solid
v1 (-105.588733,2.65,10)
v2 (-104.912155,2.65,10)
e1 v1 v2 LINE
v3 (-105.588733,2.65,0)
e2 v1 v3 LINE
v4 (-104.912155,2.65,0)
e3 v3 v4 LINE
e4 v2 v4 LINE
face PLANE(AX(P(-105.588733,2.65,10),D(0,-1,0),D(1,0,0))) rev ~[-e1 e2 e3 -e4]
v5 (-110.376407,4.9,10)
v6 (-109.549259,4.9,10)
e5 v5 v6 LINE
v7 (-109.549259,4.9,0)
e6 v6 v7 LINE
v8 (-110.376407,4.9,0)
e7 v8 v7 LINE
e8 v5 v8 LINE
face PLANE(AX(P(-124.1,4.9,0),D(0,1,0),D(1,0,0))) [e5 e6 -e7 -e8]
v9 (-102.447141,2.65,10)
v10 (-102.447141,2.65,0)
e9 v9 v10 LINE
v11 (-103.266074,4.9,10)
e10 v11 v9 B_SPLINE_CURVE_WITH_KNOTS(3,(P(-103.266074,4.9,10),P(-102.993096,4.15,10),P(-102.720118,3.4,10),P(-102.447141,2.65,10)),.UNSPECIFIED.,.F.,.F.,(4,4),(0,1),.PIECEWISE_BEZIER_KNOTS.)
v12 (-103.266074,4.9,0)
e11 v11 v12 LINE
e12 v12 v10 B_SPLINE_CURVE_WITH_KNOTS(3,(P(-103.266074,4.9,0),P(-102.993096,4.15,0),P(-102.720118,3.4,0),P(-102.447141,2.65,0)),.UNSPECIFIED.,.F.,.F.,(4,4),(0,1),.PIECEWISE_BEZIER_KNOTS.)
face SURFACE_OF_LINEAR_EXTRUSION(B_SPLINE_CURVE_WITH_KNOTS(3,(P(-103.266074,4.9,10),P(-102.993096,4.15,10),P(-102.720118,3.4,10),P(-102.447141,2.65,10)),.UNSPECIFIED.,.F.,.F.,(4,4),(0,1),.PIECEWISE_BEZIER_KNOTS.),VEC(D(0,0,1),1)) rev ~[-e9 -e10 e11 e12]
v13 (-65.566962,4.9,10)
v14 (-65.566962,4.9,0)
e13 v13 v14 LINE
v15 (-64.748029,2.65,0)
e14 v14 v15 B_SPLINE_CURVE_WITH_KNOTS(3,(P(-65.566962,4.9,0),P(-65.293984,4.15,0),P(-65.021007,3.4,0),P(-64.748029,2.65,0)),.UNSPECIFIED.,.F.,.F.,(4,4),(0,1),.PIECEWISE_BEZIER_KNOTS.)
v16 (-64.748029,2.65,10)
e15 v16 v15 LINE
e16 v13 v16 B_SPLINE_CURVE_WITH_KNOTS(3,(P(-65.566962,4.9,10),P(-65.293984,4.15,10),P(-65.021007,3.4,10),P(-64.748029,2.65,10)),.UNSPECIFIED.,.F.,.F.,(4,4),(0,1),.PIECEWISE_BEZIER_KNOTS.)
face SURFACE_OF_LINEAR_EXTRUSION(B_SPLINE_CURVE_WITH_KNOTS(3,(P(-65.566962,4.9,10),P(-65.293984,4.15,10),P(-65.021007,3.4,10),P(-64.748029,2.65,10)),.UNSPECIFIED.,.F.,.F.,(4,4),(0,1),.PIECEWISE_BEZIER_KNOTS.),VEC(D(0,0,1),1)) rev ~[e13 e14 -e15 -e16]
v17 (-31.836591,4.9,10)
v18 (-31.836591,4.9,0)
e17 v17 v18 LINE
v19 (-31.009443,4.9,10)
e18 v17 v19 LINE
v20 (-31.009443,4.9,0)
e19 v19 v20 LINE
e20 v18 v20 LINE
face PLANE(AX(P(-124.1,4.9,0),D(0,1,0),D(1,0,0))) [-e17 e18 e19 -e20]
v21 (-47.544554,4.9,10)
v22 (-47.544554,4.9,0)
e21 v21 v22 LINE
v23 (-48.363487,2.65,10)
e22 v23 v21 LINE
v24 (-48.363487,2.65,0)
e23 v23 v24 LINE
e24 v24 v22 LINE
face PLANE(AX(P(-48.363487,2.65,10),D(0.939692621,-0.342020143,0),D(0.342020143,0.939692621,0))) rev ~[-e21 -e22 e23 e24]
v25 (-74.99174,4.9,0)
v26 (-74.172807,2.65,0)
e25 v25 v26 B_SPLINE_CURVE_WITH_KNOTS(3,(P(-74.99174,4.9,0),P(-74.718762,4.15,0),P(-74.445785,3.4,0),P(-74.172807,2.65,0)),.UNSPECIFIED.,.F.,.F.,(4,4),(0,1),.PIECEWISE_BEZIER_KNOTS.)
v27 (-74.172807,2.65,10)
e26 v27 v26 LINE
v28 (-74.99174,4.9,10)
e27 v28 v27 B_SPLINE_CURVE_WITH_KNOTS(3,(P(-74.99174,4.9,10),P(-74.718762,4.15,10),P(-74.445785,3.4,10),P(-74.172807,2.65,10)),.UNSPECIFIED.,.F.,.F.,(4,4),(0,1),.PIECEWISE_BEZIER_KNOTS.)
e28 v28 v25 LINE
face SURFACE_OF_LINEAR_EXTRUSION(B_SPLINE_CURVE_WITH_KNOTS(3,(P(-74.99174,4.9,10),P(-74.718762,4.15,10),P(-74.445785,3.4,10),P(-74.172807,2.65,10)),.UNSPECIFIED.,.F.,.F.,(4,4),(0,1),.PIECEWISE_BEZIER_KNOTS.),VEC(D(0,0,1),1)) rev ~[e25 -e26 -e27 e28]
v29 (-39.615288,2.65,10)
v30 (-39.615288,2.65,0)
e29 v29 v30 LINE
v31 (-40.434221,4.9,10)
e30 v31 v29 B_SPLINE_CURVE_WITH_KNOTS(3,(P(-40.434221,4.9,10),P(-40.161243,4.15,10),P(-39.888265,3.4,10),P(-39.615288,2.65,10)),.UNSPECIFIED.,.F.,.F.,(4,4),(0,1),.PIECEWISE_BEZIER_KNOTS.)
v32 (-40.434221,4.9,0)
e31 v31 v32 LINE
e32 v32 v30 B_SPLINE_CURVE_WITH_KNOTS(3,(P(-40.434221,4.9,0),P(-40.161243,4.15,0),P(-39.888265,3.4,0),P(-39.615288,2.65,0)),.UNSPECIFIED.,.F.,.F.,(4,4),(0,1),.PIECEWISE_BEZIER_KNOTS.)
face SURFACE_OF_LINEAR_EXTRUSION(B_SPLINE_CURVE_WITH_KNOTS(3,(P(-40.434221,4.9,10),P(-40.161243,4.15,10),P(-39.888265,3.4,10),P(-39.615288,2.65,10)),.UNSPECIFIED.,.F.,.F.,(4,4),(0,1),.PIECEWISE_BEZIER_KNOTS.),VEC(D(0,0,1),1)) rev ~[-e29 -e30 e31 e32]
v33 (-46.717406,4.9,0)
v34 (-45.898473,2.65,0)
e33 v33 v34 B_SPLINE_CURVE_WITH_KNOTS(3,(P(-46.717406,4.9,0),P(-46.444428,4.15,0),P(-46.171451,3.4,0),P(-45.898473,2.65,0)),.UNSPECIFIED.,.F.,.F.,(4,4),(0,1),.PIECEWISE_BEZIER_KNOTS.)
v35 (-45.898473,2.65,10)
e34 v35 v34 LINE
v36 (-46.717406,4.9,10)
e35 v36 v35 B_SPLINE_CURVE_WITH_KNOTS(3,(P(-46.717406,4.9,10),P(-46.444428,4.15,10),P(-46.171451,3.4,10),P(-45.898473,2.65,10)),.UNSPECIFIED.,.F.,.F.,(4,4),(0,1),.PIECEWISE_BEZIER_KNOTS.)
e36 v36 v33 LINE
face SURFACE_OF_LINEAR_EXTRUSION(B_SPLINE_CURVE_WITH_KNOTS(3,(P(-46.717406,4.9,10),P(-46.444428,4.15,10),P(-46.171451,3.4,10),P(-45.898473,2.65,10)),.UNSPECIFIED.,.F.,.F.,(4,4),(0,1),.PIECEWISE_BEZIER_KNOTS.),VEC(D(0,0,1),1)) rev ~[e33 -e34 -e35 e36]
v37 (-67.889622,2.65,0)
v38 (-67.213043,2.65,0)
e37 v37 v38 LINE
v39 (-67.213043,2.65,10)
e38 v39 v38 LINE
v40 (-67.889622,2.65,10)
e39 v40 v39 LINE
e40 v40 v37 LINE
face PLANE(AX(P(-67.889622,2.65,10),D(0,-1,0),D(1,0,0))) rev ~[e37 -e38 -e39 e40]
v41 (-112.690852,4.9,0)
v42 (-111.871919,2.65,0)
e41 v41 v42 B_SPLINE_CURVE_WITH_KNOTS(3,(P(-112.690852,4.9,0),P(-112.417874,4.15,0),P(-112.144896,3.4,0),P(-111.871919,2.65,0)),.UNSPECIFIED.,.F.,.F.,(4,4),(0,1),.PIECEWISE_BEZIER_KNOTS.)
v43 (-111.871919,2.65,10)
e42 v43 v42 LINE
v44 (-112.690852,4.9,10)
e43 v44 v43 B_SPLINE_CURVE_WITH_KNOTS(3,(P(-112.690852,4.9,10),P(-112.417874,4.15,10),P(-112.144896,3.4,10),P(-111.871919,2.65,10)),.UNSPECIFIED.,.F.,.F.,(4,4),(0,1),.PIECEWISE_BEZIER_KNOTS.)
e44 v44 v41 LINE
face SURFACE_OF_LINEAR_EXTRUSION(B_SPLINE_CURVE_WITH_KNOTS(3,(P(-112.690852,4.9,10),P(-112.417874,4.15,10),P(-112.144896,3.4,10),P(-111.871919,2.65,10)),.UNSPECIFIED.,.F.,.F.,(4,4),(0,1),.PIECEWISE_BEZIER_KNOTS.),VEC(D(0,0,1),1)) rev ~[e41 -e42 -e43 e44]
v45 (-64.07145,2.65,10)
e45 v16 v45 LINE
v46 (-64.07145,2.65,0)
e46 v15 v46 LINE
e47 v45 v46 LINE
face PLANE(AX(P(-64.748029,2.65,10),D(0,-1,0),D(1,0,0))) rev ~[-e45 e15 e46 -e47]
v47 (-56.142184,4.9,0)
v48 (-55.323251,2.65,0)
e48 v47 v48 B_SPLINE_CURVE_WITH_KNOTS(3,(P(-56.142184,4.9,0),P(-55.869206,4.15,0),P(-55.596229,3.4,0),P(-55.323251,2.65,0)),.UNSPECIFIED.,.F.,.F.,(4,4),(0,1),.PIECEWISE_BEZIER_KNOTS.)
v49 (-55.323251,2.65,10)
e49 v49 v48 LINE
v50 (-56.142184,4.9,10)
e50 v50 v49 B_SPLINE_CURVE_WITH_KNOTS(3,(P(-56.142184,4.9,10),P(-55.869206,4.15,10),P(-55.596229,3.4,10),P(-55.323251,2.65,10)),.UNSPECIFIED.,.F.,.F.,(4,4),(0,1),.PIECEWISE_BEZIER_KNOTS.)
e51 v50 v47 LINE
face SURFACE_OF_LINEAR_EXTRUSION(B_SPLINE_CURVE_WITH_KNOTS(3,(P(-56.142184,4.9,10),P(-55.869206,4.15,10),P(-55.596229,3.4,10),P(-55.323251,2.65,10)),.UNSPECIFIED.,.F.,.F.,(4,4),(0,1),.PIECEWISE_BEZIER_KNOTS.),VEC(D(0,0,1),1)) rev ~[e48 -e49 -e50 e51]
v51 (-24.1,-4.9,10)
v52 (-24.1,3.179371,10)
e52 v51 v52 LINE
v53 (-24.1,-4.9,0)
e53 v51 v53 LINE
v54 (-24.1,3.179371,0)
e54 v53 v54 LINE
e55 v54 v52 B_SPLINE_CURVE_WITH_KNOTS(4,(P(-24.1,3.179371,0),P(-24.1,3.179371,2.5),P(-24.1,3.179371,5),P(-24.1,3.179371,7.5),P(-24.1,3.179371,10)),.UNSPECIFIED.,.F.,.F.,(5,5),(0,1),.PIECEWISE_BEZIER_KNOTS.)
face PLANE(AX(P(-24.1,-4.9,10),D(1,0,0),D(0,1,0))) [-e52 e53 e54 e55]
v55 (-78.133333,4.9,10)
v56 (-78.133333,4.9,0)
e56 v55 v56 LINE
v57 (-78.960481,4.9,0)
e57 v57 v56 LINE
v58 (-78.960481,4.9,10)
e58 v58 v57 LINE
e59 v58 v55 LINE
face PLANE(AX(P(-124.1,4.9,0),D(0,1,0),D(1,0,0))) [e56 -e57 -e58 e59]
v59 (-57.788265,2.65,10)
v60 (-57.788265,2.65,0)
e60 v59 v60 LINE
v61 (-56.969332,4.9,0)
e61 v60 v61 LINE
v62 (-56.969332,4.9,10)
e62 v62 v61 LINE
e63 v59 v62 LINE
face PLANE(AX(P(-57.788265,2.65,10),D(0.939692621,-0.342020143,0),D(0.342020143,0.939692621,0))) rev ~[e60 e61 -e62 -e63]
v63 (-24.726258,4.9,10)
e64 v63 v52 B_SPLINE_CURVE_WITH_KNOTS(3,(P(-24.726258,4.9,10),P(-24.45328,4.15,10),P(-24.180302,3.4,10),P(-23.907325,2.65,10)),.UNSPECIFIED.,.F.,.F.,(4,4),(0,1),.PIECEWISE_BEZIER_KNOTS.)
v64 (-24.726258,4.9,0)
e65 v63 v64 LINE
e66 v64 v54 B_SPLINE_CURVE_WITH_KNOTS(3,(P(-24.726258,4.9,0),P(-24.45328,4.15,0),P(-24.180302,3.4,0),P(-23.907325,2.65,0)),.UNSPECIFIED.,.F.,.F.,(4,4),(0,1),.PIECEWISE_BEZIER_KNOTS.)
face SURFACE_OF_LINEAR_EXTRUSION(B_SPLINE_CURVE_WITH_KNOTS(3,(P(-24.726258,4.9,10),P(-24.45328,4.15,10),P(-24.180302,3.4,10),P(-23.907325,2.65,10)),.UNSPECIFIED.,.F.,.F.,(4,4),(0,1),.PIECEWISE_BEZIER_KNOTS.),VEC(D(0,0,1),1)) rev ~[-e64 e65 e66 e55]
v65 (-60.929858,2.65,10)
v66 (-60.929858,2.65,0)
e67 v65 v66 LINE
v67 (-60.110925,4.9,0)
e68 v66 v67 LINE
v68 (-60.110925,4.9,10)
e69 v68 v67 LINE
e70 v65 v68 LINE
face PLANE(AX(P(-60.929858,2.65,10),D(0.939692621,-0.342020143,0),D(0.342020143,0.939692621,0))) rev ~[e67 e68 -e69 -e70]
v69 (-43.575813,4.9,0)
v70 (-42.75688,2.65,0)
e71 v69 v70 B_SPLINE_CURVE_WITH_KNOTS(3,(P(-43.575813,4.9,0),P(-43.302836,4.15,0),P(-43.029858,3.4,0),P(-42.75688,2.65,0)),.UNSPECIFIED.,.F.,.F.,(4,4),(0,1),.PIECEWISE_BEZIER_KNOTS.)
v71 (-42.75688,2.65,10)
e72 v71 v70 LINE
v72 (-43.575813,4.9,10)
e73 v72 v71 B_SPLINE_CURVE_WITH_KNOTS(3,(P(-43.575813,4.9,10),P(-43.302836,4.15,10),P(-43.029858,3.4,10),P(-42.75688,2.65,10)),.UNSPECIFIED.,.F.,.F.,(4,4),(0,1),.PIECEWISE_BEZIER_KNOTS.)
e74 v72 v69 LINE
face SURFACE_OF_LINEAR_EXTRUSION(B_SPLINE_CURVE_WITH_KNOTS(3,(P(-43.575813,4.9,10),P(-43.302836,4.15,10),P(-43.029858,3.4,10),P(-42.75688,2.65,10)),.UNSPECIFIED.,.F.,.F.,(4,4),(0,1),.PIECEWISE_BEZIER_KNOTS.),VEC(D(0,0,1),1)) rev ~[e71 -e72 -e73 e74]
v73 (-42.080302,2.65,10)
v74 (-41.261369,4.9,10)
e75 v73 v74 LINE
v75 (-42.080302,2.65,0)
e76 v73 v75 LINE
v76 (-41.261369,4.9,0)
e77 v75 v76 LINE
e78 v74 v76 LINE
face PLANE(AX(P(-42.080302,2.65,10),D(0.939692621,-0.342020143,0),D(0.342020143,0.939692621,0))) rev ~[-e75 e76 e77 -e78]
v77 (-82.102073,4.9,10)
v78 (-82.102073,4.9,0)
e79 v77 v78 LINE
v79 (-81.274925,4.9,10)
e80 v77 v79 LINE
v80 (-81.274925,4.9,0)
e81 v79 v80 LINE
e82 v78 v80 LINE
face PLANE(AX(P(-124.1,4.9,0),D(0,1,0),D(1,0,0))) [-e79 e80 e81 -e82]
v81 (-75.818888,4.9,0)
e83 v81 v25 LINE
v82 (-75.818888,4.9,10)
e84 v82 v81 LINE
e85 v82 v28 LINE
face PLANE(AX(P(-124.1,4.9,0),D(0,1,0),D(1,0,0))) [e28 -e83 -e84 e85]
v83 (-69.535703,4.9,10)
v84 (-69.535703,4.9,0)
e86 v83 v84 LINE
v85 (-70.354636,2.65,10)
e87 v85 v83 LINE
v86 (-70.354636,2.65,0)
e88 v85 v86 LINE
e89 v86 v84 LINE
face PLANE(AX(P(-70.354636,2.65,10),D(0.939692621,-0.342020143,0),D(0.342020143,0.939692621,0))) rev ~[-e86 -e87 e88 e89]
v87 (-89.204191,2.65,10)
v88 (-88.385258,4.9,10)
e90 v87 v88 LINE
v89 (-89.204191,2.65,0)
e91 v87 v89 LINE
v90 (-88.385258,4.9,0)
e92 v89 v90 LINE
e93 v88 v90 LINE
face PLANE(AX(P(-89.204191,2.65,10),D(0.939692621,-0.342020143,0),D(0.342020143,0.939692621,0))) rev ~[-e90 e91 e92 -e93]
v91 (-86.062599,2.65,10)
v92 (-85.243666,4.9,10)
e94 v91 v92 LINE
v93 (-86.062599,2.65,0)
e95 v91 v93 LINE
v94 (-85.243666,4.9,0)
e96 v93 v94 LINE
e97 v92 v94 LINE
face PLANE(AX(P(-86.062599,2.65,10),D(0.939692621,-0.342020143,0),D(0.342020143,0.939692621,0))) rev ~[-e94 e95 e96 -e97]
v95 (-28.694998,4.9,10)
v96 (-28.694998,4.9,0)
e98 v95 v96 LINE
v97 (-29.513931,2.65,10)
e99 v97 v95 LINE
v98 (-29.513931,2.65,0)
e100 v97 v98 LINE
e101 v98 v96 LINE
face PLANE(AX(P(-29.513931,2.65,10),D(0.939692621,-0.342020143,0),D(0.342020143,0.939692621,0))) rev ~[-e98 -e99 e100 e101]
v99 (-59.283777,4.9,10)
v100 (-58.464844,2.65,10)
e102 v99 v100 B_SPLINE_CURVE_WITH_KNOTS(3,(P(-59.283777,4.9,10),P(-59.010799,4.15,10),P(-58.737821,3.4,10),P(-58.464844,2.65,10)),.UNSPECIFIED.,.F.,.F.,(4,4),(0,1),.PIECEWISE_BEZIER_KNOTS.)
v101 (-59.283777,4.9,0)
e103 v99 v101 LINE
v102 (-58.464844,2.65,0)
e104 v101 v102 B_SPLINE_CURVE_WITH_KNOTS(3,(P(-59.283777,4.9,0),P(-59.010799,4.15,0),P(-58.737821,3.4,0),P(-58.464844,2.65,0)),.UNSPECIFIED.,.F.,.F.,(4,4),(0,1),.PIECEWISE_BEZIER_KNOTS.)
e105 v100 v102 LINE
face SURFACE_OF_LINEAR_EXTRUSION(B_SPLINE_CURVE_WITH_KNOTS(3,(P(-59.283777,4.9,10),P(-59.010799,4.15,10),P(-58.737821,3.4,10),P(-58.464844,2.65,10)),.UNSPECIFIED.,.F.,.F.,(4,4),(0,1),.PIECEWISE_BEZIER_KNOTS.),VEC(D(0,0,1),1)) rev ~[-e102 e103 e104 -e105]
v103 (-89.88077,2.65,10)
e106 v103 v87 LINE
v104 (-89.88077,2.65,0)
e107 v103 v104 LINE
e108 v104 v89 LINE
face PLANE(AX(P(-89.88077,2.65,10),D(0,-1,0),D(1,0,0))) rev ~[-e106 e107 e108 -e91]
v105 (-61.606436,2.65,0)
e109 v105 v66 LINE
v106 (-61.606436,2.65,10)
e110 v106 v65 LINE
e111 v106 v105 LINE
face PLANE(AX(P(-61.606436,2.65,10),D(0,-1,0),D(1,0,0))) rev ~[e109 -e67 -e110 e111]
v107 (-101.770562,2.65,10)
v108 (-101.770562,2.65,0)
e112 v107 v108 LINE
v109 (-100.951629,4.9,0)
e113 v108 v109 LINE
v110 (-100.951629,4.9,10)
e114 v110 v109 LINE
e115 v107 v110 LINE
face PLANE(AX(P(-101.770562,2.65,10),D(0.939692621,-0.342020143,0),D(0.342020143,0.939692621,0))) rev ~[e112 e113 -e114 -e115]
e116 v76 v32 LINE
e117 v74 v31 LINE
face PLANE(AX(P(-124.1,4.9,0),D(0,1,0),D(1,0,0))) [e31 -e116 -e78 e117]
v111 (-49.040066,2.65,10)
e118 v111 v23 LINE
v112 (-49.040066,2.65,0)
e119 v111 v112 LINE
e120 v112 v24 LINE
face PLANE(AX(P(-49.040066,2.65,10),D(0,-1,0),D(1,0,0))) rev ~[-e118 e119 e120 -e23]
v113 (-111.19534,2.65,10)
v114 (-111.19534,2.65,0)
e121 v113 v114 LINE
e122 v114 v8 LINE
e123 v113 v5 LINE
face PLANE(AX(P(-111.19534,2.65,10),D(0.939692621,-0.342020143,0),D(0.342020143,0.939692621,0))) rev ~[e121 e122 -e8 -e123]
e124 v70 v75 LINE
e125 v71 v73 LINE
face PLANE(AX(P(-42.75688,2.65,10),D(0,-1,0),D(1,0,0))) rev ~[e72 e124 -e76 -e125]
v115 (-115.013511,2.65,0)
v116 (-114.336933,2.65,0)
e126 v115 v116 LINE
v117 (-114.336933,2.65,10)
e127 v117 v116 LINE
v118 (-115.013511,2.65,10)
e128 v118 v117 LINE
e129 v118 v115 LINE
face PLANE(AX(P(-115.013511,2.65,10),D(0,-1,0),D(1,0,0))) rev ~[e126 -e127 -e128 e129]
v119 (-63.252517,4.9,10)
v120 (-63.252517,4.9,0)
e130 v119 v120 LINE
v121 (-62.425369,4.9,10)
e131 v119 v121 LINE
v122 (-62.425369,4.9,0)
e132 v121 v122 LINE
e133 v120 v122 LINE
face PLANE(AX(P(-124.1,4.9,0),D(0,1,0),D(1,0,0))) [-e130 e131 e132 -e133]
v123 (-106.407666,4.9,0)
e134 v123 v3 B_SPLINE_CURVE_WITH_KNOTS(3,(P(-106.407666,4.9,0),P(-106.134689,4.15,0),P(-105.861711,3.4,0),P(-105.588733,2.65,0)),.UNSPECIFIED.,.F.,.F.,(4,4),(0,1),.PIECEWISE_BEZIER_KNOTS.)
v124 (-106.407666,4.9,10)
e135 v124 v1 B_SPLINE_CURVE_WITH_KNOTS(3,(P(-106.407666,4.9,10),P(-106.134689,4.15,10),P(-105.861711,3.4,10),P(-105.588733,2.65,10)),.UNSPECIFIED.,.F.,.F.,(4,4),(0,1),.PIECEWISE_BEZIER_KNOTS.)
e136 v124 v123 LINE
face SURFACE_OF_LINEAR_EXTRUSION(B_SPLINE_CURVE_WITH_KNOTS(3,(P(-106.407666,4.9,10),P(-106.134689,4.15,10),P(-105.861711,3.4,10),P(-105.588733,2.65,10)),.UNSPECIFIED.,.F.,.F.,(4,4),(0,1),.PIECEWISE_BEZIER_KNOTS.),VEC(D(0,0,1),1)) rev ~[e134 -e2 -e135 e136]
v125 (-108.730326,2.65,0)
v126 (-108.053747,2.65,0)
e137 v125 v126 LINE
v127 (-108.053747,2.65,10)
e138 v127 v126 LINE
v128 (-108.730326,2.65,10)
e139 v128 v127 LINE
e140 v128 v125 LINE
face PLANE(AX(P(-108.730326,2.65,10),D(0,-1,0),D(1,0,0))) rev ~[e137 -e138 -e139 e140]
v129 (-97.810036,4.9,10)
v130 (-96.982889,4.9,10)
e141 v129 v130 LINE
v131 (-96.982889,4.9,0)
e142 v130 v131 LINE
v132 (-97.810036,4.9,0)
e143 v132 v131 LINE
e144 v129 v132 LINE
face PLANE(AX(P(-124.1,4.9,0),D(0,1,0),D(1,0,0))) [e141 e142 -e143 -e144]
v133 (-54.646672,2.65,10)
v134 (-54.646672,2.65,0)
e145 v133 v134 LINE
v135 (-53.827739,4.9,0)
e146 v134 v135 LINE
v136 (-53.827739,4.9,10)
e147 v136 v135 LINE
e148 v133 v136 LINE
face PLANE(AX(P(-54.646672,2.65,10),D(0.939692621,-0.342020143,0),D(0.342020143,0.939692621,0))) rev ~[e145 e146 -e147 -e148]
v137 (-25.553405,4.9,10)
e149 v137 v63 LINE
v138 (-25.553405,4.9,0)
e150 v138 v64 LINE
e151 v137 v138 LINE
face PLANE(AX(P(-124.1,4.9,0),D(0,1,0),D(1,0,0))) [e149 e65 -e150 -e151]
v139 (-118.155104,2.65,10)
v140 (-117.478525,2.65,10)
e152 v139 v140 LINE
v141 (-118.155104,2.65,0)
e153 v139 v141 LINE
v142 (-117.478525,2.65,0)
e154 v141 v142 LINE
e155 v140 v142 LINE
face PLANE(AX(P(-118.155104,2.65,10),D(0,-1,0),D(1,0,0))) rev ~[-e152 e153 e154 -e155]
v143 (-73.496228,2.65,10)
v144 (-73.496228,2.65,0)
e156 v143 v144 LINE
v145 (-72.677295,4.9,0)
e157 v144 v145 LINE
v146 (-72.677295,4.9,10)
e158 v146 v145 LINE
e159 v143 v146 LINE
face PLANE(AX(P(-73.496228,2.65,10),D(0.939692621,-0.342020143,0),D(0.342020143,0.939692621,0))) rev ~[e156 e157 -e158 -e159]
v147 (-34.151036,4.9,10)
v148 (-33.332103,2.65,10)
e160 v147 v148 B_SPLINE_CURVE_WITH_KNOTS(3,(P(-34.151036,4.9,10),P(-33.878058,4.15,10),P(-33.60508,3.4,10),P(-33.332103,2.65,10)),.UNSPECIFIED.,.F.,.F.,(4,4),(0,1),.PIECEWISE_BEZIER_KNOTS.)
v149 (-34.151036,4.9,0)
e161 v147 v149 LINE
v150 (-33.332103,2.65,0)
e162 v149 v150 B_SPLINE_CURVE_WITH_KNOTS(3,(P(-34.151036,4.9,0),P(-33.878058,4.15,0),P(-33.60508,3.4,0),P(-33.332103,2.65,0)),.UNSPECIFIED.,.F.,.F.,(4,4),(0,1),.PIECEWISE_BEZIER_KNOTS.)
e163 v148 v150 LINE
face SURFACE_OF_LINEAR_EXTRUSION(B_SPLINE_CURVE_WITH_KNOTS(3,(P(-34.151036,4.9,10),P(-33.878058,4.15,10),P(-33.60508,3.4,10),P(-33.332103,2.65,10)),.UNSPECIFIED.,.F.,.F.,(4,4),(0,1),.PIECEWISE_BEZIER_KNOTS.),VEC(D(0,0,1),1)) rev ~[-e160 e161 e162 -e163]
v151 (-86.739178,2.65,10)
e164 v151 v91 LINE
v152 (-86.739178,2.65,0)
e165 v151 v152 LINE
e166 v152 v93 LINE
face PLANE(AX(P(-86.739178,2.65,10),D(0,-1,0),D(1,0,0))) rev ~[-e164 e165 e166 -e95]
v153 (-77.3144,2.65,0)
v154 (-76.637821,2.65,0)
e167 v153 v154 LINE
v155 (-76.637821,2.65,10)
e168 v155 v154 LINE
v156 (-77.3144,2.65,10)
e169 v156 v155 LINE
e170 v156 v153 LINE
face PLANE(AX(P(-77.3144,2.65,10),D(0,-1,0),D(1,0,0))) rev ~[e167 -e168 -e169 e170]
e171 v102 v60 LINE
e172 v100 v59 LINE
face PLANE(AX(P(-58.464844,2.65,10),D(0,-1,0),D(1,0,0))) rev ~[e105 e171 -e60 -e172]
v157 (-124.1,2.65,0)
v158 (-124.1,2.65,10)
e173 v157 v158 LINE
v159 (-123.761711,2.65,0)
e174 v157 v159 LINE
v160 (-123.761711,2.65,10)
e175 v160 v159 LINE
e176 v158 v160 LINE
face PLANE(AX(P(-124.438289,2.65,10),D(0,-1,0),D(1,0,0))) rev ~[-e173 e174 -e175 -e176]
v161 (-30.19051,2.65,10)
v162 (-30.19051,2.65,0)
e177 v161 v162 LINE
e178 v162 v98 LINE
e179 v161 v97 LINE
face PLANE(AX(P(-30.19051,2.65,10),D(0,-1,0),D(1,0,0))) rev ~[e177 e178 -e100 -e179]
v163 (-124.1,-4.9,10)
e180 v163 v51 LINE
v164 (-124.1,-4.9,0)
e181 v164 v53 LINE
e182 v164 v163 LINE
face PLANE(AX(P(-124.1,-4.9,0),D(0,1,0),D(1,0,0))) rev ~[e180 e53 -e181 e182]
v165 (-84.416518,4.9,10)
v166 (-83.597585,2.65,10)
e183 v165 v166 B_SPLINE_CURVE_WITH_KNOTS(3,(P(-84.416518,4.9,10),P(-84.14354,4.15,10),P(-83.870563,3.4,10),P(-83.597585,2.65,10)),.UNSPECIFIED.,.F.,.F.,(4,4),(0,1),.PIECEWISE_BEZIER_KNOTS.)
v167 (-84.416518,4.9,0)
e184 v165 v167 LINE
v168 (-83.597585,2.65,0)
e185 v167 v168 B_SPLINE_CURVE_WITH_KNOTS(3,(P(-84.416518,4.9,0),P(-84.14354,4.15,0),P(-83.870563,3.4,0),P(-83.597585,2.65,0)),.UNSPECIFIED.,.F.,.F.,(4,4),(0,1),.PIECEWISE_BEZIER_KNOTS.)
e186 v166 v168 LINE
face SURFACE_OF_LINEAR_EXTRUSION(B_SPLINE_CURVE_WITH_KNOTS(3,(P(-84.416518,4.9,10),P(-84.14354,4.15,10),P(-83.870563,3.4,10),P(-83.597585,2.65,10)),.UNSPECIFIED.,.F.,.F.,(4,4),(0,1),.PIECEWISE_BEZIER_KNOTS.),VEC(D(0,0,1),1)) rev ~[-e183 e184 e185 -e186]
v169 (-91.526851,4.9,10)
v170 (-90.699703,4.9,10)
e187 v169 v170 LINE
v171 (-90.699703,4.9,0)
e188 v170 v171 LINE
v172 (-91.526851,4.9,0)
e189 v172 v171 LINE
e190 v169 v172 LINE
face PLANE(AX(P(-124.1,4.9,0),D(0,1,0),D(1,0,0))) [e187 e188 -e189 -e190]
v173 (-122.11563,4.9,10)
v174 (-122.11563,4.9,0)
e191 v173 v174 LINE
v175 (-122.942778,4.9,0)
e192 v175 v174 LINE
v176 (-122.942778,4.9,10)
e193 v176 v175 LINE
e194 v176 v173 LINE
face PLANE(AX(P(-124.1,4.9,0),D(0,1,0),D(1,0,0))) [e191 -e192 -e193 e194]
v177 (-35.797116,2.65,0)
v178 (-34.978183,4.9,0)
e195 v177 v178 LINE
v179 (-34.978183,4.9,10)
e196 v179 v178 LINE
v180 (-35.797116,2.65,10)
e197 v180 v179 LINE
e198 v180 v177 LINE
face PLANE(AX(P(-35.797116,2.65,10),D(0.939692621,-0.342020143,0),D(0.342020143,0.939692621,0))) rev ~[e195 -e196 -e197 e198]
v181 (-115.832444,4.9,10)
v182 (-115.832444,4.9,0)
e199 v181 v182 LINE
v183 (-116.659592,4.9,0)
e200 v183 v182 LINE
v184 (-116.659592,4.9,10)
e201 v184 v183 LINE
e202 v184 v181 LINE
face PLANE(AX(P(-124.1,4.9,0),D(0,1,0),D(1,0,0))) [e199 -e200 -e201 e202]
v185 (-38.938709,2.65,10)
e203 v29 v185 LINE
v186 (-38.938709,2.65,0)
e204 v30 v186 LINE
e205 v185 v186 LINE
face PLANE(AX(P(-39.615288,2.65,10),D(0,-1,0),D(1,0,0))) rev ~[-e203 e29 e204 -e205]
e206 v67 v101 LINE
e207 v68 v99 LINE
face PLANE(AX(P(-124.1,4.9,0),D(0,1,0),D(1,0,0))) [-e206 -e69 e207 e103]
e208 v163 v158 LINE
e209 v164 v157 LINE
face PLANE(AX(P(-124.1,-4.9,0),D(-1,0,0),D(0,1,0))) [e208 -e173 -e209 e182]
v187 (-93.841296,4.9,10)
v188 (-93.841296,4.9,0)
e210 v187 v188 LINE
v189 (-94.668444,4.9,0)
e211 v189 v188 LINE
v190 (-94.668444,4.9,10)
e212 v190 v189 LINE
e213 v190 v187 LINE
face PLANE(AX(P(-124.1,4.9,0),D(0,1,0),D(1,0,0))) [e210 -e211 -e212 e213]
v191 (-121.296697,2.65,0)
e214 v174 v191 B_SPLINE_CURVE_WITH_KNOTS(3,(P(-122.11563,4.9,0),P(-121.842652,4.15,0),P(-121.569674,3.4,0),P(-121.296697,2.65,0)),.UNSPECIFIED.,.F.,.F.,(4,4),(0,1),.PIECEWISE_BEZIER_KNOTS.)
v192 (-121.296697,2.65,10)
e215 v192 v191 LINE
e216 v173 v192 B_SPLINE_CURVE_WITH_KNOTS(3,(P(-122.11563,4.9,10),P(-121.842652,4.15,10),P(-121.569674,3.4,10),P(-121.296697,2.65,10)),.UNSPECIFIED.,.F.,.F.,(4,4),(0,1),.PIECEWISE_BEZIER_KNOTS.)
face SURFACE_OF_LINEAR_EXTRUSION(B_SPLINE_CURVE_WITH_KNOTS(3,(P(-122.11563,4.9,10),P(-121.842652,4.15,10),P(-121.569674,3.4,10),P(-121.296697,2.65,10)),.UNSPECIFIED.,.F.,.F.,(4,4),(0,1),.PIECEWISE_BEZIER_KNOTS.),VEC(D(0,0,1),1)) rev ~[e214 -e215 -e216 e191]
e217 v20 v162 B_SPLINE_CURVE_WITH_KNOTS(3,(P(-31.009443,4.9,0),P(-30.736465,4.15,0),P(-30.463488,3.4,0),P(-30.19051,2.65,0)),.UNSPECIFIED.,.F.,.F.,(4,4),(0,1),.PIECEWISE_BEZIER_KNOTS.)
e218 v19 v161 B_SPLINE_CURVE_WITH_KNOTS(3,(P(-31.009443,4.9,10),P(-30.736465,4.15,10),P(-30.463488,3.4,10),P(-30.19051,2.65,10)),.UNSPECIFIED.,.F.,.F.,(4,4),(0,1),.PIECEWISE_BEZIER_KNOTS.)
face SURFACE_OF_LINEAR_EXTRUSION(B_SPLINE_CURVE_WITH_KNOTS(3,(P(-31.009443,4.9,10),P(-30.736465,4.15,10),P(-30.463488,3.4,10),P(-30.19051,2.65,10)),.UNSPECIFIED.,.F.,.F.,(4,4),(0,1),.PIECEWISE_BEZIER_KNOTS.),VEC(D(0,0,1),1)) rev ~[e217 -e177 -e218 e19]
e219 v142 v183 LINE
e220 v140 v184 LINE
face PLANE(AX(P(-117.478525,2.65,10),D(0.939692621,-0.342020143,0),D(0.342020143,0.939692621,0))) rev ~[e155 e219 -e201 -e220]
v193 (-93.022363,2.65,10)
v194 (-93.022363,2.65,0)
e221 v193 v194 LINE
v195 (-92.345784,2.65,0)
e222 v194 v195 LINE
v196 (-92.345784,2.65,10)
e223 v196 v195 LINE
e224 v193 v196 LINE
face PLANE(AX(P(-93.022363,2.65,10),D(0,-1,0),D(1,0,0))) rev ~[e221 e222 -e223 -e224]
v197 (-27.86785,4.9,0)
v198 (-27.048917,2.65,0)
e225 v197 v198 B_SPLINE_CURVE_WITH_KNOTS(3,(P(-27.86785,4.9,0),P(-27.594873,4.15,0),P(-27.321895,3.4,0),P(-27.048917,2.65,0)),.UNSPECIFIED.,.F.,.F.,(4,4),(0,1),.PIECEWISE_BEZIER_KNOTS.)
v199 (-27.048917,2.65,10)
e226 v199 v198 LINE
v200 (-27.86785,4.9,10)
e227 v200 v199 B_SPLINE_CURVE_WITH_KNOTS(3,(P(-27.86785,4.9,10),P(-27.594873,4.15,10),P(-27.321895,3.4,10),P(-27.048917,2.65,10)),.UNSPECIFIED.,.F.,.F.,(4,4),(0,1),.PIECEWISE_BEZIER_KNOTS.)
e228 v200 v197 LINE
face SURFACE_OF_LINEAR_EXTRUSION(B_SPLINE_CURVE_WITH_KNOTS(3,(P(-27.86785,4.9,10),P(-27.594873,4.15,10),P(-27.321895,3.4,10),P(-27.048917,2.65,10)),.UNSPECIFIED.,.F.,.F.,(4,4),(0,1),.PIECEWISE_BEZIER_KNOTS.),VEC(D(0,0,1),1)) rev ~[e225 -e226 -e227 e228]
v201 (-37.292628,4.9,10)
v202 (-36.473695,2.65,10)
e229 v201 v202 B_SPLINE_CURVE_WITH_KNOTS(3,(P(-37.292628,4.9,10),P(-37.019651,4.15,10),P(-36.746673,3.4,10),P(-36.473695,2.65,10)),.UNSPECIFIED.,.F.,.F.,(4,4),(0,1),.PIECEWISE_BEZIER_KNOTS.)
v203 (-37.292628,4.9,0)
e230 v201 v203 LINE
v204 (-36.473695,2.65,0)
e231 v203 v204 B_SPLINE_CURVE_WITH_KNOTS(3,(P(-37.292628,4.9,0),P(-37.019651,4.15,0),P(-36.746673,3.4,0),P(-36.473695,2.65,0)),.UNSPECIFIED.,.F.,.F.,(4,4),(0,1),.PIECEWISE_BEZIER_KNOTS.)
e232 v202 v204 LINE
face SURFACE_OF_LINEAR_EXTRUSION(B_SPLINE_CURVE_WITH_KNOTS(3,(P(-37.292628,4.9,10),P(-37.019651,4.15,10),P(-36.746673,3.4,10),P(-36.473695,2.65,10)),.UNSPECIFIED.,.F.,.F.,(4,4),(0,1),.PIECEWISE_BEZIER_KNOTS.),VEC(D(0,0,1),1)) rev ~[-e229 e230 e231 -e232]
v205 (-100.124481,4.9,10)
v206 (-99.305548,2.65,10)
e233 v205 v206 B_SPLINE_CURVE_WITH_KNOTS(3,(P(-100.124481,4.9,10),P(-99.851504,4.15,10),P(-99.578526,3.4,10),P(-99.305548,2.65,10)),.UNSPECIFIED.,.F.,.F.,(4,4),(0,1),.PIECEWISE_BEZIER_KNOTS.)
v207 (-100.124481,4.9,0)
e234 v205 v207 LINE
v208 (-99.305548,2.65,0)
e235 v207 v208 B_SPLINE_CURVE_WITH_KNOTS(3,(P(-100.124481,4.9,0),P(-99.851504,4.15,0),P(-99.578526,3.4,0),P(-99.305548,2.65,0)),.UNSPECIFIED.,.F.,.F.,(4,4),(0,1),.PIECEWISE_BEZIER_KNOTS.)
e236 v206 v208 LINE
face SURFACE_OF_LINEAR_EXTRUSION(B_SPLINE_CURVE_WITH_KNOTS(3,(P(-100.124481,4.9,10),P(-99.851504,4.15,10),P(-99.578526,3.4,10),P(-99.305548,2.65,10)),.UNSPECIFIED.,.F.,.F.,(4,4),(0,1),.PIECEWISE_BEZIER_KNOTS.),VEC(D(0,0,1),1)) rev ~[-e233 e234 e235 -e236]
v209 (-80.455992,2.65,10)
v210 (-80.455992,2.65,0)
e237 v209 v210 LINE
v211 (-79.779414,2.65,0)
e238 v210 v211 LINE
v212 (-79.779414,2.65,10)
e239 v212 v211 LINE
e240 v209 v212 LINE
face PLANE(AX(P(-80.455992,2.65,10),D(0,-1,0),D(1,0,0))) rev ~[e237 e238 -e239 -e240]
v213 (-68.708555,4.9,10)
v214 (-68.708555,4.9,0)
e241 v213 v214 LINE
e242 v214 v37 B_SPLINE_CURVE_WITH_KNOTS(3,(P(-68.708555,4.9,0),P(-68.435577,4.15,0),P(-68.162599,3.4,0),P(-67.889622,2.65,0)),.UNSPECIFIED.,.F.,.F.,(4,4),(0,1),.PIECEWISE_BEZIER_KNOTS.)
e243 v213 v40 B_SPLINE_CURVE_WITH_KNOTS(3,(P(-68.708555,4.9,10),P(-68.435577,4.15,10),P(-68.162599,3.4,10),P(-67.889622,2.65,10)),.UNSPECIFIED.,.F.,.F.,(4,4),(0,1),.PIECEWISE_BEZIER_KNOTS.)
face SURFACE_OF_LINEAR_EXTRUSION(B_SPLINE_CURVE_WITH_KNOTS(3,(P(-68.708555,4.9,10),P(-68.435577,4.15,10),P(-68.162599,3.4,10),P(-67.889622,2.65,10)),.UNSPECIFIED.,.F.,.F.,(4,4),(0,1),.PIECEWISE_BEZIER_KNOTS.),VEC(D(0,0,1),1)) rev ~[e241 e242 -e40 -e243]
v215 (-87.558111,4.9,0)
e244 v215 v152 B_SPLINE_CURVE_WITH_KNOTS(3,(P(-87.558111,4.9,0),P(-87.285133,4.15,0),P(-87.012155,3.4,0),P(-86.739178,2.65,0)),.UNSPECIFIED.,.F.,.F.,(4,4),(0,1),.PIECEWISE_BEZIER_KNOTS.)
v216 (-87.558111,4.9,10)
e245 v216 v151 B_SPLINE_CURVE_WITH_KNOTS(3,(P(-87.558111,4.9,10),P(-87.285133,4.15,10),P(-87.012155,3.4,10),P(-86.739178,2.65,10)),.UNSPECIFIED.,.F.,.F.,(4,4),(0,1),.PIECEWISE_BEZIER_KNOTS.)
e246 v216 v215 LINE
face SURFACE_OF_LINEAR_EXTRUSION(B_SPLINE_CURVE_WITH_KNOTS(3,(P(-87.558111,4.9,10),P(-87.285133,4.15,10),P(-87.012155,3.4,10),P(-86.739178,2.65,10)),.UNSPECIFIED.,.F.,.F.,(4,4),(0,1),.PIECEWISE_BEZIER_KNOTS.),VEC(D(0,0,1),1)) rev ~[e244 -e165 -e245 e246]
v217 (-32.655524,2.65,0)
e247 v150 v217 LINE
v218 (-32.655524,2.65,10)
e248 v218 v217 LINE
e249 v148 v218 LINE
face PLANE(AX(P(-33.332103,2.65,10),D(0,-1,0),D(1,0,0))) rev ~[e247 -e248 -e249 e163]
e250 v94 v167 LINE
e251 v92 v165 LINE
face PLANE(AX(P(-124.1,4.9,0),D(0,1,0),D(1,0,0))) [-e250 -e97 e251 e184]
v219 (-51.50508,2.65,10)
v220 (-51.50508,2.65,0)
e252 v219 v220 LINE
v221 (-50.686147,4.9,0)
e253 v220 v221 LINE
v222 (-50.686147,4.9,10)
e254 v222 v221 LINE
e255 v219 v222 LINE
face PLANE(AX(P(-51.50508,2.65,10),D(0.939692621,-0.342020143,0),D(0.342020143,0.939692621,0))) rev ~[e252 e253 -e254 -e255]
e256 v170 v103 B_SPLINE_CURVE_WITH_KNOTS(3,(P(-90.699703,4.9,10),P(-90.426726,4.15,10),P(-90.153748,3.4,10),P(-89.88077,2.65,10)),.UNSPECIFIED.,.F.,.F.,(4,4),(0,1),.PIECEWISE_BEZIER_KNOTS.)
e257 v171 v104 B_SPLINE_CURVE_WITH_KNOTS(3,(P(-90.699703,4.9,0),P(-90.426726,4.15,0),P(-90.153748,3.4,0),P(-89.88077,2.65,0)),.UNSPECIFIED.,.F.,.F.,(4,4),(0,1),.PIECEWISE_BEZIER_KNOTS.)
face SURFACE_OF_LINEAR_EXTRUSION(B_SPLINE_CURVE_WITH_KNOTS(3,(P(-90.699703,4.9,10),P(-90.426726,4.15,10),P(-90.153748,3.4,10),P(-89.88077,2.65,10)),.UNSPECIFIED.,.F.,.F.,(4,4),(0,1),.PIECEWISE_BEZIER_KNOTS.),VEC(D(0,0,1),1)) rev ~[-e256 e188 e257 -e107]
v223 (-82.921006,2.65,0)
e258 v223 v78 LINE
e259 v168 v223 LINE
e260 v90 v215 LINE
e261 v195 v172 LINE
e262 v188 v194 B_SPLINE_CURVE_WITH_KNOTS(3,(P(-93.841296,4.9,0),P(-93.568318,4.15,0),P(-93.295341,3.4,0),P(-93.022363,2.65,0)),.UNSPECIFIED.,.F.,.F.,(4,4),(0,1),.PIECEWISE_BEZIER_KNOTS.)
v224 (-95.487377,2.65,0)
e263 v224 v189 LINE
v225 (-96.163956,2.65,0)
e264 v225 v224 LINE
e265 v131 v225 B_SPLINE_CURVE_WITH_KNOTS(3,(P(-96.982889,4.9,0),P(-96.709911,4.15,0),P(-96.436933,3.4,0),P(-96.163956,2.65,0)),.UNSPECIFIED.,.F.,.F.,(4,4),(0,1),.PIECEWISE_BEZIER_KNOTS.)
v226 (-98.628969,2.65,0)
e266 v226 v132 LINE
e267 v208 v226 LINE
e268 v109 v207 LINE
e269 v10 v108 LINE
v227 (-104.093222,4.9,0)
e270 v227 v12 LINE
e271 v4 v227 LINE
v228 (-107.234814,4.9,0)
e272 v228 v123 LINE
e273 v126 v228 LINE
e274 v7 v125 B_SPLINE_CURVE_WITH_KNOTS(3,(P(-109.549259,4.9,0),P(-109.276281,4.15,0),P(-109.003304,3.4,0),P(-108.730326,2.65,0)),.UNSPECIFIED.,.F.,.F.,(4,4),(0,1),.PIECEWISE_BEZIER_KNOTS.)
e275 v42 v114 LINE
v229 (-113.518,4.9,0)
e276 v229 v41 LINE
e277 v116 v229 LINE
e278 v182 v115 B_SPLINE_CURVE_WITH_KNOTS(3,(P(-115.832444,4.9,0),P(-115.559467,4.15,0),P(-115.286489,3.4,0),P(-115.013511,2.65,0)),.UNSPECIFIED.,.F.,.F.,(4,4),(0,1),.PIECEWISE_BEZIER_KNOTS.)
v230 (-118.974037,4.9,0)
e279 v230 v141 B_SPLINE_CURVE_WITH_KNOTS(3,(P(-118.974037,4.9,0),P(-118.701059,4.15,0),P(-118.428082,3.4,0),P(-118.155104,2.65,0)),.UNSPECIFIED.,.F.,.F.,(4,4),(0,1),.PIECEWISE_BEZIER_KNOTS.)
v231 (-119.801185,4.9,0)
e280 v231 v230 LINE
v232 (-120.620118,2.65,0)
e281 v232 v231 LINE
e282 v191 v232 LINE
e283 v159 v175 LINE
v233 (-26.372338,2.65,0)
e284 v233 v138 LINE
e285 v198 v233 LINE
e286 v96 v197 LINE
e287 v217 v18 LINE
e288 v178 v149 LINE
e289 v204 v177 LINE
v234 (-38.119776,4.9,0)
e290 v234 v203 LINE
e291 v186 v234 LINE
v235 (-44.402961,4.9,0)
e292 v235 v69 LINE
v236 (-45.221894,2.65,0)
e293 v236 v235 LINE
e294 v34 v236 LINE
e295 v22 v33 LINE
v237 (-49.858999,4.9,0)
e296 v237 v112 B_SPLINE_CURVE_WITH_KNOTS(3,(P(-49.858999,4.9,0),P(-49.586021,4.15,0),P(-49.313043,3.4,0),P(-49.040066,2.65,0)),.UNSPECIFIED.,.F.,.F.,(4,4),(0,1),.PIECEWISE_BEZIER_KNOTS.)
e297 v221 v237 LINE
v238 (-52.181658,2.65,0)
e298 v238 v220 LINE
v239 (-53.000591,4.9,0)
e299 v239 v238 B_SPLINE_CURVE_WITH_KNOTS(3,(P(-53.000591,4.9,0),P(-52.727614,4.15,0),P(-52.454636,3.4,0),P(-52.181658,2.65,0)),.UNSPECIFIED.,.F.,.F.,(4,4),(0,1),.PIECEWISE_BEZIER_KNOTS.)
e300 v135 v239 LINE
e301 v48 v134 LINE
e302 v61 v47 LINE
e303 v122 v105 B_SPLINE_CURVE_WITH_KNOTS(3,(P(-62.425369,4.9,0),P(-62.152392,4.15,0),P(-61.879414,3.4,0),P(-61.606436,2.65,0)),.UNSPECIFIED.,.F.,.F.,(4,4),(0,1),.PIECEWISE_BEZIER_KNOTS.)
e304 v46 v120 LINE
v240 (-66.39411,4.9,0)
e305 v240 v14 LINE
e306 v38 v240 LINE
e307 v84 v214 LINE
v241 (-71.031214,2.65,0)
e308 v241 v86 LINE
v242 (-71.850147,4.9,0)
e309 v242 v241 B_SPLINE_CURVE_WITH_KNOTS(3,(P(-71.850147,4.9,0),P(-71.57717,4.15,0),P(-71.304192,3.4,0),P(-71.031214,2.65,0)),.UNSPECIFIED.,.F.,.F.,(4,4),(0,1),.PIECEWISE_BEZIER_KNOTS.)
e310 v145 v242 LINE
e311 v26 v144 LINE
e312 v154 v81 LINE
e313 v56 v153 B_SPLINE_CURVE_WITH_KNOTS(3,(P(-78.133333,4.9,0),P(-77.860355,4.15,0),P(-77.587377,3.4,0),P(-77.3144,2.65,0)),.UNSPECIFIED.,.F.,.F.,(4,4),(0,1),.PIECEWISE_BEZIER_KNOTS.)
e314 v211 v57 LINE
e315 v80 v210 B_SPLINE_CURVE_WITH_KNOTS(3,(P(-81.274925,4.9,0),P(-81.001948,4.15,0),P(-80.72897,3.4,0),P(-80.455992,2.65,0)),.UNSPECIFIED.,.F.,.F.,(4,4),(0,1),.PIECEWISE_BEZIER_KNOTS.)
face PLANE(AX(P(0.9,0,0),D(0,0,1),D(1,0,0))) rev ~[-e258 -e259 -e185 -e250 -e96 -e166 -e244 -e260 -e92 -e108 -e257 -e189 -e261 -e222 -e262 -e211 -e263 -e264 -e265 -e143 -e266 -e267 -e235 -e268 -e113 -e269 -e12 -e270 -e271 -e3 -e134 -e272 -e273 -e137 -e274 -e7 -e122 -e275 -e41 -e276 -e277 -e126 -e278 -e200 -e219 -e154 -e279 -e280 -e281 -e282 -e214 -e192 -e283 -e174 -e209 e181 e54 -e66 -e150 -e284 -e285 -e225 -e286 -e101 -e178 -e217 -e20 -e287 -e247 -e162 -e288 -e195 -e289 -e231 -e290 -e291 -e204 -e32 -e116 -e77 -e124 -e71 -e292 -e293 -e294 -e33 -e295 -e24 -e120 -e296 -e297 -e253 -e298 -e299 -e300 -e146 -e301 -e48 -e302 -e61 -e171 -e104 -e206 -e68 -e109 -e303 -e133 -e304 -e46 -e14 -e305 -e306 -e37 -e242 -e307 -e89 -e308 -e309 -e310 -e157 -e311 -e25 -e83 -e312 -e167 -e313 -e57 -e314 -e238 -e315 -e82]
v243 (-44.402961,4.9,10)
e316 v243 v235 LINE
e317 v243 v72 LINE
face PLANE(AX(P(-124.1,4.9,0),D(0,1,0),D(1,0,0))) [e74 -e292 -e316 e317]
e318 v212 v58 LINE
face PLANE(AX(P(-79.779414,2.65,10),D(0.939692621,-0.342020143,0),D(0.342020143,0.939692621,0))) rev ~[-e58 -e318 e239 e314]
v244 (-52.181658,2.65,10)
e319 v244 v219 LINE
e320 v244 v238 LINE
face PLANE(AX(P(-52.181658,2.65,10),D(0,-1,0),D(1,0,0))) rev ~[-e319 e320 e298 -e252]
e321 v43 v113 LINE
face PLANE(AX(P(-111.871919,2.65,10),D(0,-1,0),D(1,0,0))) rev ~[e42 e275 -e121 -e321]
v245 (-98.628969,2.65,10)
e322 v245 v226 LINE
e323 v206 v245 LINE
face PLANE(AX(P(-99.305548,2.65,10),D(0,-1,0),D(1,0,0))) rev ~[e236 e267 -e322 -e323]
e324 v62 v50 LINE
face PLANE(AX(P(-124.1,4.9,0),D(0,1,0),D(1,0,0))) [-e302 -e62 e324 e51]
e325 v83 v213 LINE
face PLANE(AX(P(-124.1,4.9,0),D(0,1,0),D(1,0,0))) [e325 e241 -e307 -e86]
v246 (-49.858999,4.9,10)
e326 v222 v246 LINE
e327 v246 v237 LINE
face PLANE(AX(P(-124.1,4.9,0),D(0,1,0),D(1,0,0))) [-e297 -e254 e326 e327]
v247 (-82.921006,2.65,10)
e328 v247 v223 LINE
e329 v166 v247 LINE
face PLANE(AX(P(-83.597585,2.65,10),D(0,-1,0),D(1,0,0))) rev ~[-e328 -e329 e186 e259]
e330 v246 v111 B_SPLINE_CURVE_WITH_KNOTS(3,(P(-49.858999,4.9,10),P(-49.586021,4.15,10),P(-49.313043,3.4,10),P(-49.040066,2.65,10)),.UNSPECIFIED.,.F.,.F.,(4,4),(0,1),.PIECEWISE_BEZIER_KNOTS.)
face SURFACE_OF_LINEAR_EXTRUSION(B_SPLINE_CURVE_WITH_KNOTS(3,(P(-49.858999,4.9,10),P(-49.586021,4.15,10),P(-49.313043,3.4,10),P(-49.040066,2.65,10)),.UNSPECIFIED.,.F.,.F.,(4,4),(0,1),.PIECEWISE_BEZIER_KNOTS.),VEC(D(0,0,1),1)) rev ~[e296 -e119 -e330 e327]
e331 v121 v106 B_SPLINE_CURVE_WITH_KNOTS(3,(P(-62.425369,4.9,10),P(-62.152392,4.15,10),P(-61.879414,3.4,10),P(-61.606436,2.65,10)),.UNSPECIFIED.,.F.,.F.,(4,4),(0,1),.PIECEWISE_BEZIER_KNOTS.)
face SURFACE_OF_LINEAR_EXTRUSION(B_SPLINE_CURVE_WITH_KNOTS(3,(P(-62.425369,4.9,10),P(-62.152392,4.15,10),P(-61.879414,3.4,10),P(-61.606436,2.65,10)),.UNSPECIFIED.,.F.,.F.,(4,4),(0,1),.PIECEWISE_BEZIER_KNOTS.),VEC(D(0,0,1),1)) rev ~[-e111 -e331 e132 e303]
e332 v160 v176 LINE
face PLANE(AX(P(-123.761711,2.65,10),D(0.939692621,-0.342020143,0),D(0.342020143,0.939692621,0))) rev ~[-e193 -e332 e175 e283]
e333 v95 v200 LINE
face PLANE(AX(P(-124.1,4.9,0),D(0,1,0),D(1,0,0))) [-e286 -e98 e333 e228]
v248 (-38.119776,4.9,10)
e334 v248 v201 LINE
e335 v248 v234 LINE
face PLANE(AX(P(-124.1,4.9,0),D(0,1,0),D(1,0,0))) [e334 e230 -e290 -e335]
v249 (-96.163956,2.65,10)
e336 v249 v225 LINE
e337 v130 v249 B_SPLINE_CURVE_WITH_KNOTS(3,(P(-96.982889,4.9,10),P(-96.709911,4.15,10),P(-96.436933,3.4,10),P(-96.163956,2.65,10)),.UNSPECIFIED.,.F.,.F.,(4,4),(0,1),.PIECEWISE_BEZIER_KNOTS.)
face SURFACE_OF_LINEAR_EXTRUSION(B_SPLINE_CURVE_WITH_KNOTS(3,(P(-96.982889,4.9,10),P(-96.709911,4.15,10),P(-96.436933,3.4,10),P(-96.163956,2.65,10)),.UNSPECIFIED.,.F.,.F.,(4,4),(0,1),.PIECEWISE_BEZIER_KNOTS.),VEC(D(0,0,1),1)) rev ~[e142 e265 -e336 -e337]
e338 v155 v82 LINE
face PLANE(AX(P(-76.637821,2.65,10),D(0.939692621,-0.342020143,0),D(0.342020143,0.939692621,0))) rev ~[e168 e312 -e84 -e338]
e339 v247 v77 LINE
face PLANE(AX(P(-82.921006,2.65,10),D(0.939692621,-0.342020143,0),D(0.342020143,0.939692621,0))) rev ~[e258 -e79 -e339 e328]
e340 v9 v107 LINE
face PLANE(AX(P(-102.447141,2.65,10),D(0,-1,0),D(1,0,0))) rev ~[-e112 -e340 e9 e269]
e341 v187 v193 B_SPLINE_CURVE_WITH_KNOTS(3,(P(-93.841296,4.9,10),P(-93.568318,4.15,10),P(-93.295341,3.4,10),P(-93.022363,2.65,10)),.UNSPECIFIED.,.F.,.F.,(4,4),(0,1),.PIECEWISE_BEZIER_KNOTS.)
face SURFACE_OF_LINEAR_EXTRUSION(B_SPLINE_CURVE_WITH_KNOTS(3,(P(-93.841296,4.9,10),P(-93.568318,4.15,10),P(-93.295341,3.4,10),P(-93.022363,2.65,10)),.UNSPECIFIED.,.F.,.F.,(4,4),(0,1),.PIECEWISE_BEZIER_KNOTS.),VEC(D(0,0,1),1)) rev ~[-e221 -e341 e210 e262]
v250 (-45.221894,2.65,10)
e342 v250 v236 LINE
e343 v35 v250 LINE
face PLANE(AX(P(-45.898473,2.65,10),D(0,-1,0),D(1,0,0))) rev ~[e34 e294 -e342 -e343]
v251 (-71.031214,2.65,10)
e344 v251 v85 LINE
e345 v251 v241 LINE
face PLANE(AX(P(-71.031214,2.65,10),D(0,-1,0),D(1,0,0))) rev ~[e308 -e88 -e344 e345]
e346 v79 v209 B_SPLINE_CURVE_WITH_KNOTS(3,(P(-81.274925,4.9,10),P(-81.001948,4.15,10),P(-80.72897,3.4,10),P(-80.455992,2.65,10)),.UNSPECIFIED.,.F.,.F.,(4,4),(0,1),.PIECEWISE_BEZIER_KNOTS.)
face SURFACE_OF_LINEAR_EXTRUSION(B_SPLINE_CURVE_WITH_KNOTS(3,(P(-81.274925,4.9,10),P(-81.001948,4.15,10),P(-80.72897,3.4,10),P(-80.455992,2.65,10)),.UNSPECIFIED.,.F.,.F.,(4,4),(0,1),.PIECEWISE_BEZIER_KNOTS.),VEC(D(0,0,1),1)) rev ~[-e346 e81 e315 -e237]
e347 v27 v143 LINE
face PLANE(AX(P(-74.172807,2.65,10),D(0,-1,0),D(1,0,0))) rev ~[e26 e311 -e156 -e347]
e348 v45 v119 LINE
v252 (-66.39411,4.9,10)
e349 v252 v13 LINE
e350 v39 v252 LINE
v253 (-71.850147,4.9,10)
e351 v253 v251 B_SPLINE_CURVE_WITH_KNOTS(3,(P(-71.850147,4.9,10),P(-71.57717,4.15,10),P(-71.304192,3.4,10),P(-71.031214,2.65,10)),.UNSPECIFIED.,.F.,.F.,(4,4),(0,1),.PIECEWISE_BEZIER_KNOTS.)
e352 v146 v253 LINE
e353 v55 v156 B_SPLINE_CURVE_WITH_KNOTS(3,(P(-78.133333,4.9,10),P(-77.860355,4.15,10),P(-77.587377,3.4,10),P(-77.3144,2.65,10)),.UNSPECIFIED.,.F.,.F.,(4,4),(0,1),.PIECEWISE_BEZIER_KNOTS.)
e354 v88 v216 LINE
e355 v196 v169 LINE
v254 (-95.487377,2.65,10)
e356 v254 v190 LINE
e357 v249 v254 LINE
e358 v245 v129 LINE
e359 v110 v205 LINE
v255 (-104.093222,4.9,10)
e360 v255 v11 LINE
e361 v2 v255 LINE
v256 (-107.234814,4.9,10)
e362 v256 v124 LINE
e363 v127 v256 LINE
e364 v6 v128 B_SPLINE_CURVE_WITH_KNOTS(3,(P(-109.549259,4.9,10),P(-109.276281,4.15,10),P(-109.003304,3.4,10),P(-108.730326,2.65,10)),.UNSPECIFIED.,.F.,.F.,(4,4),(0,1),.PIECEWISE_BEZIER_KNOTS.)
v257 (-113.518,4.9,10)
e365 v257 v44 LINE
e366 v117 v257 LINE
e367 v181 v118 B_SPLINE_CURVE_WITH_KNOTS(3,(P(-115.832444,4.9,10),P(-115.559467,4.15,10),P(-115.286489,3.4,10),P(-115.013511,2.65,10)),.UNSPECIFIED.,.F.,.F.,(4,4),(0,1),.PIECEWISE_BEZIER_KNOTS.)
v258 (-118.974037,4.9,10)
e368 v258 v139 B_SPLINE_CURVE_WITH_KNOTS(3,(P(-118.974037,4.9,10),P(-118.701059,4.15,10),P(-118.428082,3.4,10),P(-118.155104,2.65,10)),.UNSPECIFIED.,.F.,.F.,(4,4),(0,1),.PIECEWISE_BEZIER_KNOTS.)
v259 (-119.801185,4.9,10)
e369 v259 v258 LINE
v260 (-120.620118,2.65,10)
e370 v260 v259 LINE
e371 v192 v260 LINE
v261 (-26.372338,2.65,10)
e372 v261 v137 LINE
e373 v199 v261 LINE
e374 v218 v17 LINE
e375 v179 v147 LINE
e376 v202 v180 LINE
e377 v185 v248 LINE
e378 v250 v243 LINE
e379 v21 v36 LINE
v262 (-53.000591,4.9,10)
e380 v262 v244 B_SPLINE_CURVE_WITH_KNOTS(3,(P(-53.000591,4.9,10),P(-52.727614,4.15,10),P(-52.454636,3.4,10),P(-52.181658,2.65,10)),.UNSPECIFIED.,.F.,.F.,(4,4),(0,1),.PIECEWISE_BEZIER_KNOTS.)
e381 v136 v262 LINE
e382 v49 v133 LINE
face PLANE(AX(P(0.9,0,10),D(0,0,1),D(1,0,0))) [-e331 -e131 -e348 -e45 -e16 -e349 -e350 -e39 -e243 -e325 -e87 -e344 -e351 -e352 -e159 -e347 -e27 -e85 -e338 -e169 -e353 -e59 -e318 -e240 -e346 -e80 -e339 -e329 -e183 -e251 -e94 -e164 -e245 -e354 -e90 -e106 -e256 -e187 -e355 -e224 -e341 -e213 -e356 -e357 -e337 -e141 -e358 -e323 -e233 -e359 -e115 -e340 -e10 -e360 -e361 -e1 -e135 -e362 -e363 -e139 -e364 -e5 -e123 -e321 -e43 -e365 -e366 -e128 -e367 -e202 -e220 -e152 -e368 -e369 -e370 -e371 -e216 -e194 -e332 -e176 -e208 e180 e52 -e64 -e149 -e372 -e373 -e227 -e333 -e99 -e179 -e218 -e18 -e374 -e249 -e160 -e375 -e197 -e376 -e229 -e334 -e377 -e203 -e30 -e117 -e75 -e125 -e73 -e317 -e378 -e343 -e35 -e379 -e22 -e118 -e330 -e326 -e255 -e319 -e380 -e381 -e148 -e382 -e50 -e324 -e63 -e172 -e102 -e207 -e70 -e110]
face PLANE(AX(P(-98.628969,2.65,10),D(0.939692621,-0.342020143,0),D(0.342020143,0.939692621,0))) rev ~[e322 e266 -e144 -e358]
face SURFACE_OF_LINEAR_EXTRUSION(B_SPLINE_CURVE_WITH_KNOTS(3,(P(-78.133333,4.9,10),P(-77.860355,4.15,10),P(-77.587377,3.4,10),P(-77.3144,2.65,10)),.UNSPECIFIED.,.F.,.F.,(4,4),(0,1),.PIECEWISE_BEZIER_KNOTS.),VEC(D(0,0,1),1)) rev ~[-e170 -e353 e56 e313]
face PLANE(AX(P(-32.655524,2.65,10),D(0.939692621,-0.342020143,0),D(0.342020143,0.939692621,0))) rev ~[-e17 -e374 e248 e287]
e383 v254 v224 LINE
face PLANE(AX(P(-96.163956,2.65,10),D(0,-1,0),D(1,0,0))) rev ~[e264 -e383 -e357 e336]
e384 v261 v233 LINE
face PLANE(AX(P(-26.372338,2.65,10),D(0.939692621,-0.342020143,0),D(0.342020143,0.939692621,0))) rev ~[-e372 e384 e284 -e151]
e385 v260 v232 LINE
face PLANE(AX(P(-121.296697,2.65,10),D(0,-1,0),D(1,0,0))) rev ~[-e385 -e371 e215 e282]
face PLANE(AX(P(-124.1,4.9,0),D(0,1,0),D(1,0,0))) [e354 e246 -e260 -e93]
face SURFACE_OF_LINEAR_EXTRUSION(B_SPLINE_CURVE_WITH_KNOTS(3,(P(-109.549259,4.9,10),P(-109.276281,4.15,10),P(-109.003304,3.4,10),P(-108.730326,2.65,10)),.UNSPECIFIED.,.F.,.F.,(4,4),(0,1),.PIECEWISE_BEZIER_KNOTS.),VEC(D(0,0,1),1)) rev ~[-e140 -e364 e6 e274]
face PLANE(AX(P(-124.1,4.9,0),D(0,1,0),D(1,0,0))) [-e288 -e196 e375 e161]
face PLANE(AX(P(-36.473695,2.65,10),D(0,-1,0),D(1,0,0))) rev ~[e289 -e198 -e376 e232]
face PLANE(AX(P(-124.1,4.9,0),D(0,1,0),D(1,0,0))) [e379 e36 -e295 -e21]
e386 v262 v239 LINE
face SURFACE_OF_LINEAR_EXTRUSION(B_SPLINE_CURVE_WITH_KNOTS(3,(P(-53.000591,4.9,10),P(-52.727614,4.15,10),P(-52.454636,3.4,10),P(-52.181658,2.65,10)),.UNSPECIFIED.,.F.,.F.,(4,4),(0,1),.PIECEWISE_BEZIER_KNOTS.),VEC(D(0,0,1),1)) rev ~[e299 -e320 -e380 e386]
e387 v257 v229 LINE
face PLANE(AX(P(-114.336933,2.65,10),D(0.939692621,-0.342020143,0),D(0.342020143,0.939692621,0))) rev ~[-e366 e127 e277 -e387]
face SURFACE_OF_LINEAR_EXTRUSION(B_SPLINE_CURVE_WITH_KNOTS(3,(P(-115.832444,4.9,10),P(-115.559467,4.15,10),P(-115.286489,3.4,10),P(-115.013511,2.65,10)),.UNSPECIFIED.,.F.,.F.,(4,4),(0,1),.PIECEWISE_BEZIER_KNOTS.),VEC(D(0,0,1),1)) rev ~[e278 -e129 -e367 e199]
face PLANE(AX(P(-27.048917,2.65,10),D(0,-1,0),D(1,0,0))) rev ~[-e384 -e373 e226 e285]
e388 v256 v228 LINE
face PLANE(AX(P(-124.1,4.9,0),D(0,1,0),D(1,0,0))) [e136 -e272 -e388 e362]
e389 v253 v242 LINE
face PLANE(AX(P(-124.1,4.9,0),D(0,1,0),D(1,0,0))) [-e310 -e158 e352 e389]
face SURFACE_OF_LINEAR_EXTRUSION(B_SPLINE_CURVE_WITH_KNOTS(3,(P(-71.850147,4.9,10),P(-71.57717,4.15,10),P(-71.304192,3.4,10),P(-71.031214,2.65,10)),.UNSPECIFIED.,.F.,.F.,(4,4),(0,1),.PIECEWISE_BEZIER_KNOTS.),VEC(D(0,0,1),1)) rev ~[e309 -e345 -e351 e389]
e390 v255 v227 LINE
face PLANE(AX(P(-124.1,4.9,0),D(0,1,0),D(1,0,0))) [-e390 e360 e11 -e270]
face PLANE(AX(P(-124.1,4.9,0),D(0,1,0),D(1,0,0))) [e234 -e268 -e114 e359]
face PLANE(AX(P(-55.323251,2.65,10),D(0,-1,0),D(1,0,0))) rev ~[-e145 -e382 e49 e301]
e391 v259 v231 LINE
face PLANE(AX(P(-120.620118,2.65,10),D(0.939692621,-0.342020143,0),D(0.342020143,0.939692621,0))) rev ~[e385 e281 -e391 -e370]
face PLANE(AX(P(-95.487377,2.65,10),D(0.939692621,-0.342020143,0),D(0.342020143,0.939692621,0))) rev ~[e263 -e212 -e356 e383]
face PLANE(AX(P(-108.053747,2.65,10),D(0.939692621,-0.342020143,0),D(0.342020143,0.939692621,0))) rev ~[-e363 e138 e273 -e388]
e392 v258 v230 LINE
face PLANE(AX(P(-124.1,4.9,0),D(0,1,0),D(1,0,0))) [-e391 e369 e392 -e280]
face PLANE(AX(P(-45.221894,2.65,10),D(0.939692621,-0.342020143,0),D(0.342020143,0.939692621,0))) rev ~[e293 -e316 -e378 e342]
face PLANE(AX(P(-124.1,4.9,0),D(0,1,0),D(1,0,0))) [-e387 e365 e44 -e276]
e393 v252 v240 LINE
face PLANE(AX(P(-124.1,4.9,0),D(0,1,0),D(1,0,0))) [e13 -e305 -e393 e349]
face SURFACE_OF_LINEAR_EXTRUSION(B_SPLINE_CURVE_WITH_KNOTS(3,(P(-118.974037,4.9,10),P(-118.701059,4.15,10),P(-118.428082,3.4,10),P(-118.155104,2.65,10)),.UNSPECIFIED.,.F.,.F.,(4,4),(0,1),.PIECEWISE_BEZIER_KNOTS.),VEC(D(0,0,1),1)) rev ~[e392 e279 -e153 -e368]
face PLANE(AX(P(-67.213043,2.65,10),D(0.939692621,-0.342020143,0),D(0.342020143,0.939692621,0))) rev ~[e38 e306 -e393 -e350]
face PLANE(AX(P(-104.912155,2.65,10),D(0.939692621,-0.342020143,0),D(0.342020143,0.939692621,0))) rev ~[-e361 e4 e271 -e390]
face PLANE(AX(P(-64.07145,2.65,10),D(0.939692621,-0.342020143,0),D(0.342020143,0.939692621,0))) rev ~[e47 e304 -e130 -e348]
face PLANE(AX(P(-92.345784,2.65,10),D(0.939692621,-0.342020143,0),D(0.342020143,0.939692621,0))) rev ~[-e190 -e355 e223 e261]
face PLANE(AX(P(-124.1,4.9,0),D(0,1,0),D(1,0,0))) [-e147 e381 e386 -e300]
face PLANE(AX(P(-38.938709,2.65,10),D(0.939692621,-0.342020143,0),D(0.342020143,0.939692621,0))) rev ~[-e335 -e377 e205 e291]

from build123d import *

# Parameters (mm, degrees)
RITNING_1_W          = 250
RITNING_1_H          = 9.8
KUGGST_NGS_MNE_DEPTH = 10
KUGGLUCKA_DEPTH      = 10
LPATTERN_COUNT       = 80
LPATTERN_PITCH       = 3.14159265
CUT_EXTRUDE1_DEPTH   = 10


with BuildPart() as part:
    # Ritning 1 → Kuggstångsämne (new body)
    with BuildSketch(Plane.XY):
        with Locations((0.9, 0)):
            Rectangle(RITNING_1_W, RITNING_1_H)
    extrude(amount=KUGGST_NGS_MNE_DEPTH)

    # Ritning 2 → Kugglucka (cut)
    with BuildSketch(Plane.XY.offset(10)):
        with BuildLine():
            Line((-124.438289352, 2.65), (-123.761710648, 2.65))
            Line((-123.761710648, 2.65), (-122.942777621, 4.9))
            Line((-122.942777621, 4.9), (-124.1, 6.057222379))
            Line((-124.1, 6.057222379), (-125.257222379, 4.9))
            add(Edge.make_bspline(
                [(-125.257222379, 4.9), (-124.984244704, 4.15), (-124.711267028, 3.4), (-124.438289352, 2.65)],
                knots=[0, 0, 0, 0, 1, 1, 1, 1], degree=3))
        make_face()
    kugglucka = extrude(amount=-KUGGLUCKA_DEPTH, mode=Mode.SUBTRACT)

    # LPattern: Kugglucka ×80
    with Locations(*[(i * LPATTERN_PITCH, 0, 0) for i in range(1, LPATTERN_COUNT)]):
        add(kugglucka, mode=Mode.SUBTRACT)

    # Sketch1 → Cut-Extrude1 (cut)
    with BuildSketch(Plane.XY.offset(10)):
        Polygon((-24.1, -4.9), (-24.1, 34.404726266), (165.055883849, 34.404726266), (170.123246632, -36.805056005), (-46.973243137, -44.806155137), align=None)
    extrude(amount=-CUT_EXTRUDE1_DEPTH, mode=Mode.SUBTRACT)


solid = part.part
